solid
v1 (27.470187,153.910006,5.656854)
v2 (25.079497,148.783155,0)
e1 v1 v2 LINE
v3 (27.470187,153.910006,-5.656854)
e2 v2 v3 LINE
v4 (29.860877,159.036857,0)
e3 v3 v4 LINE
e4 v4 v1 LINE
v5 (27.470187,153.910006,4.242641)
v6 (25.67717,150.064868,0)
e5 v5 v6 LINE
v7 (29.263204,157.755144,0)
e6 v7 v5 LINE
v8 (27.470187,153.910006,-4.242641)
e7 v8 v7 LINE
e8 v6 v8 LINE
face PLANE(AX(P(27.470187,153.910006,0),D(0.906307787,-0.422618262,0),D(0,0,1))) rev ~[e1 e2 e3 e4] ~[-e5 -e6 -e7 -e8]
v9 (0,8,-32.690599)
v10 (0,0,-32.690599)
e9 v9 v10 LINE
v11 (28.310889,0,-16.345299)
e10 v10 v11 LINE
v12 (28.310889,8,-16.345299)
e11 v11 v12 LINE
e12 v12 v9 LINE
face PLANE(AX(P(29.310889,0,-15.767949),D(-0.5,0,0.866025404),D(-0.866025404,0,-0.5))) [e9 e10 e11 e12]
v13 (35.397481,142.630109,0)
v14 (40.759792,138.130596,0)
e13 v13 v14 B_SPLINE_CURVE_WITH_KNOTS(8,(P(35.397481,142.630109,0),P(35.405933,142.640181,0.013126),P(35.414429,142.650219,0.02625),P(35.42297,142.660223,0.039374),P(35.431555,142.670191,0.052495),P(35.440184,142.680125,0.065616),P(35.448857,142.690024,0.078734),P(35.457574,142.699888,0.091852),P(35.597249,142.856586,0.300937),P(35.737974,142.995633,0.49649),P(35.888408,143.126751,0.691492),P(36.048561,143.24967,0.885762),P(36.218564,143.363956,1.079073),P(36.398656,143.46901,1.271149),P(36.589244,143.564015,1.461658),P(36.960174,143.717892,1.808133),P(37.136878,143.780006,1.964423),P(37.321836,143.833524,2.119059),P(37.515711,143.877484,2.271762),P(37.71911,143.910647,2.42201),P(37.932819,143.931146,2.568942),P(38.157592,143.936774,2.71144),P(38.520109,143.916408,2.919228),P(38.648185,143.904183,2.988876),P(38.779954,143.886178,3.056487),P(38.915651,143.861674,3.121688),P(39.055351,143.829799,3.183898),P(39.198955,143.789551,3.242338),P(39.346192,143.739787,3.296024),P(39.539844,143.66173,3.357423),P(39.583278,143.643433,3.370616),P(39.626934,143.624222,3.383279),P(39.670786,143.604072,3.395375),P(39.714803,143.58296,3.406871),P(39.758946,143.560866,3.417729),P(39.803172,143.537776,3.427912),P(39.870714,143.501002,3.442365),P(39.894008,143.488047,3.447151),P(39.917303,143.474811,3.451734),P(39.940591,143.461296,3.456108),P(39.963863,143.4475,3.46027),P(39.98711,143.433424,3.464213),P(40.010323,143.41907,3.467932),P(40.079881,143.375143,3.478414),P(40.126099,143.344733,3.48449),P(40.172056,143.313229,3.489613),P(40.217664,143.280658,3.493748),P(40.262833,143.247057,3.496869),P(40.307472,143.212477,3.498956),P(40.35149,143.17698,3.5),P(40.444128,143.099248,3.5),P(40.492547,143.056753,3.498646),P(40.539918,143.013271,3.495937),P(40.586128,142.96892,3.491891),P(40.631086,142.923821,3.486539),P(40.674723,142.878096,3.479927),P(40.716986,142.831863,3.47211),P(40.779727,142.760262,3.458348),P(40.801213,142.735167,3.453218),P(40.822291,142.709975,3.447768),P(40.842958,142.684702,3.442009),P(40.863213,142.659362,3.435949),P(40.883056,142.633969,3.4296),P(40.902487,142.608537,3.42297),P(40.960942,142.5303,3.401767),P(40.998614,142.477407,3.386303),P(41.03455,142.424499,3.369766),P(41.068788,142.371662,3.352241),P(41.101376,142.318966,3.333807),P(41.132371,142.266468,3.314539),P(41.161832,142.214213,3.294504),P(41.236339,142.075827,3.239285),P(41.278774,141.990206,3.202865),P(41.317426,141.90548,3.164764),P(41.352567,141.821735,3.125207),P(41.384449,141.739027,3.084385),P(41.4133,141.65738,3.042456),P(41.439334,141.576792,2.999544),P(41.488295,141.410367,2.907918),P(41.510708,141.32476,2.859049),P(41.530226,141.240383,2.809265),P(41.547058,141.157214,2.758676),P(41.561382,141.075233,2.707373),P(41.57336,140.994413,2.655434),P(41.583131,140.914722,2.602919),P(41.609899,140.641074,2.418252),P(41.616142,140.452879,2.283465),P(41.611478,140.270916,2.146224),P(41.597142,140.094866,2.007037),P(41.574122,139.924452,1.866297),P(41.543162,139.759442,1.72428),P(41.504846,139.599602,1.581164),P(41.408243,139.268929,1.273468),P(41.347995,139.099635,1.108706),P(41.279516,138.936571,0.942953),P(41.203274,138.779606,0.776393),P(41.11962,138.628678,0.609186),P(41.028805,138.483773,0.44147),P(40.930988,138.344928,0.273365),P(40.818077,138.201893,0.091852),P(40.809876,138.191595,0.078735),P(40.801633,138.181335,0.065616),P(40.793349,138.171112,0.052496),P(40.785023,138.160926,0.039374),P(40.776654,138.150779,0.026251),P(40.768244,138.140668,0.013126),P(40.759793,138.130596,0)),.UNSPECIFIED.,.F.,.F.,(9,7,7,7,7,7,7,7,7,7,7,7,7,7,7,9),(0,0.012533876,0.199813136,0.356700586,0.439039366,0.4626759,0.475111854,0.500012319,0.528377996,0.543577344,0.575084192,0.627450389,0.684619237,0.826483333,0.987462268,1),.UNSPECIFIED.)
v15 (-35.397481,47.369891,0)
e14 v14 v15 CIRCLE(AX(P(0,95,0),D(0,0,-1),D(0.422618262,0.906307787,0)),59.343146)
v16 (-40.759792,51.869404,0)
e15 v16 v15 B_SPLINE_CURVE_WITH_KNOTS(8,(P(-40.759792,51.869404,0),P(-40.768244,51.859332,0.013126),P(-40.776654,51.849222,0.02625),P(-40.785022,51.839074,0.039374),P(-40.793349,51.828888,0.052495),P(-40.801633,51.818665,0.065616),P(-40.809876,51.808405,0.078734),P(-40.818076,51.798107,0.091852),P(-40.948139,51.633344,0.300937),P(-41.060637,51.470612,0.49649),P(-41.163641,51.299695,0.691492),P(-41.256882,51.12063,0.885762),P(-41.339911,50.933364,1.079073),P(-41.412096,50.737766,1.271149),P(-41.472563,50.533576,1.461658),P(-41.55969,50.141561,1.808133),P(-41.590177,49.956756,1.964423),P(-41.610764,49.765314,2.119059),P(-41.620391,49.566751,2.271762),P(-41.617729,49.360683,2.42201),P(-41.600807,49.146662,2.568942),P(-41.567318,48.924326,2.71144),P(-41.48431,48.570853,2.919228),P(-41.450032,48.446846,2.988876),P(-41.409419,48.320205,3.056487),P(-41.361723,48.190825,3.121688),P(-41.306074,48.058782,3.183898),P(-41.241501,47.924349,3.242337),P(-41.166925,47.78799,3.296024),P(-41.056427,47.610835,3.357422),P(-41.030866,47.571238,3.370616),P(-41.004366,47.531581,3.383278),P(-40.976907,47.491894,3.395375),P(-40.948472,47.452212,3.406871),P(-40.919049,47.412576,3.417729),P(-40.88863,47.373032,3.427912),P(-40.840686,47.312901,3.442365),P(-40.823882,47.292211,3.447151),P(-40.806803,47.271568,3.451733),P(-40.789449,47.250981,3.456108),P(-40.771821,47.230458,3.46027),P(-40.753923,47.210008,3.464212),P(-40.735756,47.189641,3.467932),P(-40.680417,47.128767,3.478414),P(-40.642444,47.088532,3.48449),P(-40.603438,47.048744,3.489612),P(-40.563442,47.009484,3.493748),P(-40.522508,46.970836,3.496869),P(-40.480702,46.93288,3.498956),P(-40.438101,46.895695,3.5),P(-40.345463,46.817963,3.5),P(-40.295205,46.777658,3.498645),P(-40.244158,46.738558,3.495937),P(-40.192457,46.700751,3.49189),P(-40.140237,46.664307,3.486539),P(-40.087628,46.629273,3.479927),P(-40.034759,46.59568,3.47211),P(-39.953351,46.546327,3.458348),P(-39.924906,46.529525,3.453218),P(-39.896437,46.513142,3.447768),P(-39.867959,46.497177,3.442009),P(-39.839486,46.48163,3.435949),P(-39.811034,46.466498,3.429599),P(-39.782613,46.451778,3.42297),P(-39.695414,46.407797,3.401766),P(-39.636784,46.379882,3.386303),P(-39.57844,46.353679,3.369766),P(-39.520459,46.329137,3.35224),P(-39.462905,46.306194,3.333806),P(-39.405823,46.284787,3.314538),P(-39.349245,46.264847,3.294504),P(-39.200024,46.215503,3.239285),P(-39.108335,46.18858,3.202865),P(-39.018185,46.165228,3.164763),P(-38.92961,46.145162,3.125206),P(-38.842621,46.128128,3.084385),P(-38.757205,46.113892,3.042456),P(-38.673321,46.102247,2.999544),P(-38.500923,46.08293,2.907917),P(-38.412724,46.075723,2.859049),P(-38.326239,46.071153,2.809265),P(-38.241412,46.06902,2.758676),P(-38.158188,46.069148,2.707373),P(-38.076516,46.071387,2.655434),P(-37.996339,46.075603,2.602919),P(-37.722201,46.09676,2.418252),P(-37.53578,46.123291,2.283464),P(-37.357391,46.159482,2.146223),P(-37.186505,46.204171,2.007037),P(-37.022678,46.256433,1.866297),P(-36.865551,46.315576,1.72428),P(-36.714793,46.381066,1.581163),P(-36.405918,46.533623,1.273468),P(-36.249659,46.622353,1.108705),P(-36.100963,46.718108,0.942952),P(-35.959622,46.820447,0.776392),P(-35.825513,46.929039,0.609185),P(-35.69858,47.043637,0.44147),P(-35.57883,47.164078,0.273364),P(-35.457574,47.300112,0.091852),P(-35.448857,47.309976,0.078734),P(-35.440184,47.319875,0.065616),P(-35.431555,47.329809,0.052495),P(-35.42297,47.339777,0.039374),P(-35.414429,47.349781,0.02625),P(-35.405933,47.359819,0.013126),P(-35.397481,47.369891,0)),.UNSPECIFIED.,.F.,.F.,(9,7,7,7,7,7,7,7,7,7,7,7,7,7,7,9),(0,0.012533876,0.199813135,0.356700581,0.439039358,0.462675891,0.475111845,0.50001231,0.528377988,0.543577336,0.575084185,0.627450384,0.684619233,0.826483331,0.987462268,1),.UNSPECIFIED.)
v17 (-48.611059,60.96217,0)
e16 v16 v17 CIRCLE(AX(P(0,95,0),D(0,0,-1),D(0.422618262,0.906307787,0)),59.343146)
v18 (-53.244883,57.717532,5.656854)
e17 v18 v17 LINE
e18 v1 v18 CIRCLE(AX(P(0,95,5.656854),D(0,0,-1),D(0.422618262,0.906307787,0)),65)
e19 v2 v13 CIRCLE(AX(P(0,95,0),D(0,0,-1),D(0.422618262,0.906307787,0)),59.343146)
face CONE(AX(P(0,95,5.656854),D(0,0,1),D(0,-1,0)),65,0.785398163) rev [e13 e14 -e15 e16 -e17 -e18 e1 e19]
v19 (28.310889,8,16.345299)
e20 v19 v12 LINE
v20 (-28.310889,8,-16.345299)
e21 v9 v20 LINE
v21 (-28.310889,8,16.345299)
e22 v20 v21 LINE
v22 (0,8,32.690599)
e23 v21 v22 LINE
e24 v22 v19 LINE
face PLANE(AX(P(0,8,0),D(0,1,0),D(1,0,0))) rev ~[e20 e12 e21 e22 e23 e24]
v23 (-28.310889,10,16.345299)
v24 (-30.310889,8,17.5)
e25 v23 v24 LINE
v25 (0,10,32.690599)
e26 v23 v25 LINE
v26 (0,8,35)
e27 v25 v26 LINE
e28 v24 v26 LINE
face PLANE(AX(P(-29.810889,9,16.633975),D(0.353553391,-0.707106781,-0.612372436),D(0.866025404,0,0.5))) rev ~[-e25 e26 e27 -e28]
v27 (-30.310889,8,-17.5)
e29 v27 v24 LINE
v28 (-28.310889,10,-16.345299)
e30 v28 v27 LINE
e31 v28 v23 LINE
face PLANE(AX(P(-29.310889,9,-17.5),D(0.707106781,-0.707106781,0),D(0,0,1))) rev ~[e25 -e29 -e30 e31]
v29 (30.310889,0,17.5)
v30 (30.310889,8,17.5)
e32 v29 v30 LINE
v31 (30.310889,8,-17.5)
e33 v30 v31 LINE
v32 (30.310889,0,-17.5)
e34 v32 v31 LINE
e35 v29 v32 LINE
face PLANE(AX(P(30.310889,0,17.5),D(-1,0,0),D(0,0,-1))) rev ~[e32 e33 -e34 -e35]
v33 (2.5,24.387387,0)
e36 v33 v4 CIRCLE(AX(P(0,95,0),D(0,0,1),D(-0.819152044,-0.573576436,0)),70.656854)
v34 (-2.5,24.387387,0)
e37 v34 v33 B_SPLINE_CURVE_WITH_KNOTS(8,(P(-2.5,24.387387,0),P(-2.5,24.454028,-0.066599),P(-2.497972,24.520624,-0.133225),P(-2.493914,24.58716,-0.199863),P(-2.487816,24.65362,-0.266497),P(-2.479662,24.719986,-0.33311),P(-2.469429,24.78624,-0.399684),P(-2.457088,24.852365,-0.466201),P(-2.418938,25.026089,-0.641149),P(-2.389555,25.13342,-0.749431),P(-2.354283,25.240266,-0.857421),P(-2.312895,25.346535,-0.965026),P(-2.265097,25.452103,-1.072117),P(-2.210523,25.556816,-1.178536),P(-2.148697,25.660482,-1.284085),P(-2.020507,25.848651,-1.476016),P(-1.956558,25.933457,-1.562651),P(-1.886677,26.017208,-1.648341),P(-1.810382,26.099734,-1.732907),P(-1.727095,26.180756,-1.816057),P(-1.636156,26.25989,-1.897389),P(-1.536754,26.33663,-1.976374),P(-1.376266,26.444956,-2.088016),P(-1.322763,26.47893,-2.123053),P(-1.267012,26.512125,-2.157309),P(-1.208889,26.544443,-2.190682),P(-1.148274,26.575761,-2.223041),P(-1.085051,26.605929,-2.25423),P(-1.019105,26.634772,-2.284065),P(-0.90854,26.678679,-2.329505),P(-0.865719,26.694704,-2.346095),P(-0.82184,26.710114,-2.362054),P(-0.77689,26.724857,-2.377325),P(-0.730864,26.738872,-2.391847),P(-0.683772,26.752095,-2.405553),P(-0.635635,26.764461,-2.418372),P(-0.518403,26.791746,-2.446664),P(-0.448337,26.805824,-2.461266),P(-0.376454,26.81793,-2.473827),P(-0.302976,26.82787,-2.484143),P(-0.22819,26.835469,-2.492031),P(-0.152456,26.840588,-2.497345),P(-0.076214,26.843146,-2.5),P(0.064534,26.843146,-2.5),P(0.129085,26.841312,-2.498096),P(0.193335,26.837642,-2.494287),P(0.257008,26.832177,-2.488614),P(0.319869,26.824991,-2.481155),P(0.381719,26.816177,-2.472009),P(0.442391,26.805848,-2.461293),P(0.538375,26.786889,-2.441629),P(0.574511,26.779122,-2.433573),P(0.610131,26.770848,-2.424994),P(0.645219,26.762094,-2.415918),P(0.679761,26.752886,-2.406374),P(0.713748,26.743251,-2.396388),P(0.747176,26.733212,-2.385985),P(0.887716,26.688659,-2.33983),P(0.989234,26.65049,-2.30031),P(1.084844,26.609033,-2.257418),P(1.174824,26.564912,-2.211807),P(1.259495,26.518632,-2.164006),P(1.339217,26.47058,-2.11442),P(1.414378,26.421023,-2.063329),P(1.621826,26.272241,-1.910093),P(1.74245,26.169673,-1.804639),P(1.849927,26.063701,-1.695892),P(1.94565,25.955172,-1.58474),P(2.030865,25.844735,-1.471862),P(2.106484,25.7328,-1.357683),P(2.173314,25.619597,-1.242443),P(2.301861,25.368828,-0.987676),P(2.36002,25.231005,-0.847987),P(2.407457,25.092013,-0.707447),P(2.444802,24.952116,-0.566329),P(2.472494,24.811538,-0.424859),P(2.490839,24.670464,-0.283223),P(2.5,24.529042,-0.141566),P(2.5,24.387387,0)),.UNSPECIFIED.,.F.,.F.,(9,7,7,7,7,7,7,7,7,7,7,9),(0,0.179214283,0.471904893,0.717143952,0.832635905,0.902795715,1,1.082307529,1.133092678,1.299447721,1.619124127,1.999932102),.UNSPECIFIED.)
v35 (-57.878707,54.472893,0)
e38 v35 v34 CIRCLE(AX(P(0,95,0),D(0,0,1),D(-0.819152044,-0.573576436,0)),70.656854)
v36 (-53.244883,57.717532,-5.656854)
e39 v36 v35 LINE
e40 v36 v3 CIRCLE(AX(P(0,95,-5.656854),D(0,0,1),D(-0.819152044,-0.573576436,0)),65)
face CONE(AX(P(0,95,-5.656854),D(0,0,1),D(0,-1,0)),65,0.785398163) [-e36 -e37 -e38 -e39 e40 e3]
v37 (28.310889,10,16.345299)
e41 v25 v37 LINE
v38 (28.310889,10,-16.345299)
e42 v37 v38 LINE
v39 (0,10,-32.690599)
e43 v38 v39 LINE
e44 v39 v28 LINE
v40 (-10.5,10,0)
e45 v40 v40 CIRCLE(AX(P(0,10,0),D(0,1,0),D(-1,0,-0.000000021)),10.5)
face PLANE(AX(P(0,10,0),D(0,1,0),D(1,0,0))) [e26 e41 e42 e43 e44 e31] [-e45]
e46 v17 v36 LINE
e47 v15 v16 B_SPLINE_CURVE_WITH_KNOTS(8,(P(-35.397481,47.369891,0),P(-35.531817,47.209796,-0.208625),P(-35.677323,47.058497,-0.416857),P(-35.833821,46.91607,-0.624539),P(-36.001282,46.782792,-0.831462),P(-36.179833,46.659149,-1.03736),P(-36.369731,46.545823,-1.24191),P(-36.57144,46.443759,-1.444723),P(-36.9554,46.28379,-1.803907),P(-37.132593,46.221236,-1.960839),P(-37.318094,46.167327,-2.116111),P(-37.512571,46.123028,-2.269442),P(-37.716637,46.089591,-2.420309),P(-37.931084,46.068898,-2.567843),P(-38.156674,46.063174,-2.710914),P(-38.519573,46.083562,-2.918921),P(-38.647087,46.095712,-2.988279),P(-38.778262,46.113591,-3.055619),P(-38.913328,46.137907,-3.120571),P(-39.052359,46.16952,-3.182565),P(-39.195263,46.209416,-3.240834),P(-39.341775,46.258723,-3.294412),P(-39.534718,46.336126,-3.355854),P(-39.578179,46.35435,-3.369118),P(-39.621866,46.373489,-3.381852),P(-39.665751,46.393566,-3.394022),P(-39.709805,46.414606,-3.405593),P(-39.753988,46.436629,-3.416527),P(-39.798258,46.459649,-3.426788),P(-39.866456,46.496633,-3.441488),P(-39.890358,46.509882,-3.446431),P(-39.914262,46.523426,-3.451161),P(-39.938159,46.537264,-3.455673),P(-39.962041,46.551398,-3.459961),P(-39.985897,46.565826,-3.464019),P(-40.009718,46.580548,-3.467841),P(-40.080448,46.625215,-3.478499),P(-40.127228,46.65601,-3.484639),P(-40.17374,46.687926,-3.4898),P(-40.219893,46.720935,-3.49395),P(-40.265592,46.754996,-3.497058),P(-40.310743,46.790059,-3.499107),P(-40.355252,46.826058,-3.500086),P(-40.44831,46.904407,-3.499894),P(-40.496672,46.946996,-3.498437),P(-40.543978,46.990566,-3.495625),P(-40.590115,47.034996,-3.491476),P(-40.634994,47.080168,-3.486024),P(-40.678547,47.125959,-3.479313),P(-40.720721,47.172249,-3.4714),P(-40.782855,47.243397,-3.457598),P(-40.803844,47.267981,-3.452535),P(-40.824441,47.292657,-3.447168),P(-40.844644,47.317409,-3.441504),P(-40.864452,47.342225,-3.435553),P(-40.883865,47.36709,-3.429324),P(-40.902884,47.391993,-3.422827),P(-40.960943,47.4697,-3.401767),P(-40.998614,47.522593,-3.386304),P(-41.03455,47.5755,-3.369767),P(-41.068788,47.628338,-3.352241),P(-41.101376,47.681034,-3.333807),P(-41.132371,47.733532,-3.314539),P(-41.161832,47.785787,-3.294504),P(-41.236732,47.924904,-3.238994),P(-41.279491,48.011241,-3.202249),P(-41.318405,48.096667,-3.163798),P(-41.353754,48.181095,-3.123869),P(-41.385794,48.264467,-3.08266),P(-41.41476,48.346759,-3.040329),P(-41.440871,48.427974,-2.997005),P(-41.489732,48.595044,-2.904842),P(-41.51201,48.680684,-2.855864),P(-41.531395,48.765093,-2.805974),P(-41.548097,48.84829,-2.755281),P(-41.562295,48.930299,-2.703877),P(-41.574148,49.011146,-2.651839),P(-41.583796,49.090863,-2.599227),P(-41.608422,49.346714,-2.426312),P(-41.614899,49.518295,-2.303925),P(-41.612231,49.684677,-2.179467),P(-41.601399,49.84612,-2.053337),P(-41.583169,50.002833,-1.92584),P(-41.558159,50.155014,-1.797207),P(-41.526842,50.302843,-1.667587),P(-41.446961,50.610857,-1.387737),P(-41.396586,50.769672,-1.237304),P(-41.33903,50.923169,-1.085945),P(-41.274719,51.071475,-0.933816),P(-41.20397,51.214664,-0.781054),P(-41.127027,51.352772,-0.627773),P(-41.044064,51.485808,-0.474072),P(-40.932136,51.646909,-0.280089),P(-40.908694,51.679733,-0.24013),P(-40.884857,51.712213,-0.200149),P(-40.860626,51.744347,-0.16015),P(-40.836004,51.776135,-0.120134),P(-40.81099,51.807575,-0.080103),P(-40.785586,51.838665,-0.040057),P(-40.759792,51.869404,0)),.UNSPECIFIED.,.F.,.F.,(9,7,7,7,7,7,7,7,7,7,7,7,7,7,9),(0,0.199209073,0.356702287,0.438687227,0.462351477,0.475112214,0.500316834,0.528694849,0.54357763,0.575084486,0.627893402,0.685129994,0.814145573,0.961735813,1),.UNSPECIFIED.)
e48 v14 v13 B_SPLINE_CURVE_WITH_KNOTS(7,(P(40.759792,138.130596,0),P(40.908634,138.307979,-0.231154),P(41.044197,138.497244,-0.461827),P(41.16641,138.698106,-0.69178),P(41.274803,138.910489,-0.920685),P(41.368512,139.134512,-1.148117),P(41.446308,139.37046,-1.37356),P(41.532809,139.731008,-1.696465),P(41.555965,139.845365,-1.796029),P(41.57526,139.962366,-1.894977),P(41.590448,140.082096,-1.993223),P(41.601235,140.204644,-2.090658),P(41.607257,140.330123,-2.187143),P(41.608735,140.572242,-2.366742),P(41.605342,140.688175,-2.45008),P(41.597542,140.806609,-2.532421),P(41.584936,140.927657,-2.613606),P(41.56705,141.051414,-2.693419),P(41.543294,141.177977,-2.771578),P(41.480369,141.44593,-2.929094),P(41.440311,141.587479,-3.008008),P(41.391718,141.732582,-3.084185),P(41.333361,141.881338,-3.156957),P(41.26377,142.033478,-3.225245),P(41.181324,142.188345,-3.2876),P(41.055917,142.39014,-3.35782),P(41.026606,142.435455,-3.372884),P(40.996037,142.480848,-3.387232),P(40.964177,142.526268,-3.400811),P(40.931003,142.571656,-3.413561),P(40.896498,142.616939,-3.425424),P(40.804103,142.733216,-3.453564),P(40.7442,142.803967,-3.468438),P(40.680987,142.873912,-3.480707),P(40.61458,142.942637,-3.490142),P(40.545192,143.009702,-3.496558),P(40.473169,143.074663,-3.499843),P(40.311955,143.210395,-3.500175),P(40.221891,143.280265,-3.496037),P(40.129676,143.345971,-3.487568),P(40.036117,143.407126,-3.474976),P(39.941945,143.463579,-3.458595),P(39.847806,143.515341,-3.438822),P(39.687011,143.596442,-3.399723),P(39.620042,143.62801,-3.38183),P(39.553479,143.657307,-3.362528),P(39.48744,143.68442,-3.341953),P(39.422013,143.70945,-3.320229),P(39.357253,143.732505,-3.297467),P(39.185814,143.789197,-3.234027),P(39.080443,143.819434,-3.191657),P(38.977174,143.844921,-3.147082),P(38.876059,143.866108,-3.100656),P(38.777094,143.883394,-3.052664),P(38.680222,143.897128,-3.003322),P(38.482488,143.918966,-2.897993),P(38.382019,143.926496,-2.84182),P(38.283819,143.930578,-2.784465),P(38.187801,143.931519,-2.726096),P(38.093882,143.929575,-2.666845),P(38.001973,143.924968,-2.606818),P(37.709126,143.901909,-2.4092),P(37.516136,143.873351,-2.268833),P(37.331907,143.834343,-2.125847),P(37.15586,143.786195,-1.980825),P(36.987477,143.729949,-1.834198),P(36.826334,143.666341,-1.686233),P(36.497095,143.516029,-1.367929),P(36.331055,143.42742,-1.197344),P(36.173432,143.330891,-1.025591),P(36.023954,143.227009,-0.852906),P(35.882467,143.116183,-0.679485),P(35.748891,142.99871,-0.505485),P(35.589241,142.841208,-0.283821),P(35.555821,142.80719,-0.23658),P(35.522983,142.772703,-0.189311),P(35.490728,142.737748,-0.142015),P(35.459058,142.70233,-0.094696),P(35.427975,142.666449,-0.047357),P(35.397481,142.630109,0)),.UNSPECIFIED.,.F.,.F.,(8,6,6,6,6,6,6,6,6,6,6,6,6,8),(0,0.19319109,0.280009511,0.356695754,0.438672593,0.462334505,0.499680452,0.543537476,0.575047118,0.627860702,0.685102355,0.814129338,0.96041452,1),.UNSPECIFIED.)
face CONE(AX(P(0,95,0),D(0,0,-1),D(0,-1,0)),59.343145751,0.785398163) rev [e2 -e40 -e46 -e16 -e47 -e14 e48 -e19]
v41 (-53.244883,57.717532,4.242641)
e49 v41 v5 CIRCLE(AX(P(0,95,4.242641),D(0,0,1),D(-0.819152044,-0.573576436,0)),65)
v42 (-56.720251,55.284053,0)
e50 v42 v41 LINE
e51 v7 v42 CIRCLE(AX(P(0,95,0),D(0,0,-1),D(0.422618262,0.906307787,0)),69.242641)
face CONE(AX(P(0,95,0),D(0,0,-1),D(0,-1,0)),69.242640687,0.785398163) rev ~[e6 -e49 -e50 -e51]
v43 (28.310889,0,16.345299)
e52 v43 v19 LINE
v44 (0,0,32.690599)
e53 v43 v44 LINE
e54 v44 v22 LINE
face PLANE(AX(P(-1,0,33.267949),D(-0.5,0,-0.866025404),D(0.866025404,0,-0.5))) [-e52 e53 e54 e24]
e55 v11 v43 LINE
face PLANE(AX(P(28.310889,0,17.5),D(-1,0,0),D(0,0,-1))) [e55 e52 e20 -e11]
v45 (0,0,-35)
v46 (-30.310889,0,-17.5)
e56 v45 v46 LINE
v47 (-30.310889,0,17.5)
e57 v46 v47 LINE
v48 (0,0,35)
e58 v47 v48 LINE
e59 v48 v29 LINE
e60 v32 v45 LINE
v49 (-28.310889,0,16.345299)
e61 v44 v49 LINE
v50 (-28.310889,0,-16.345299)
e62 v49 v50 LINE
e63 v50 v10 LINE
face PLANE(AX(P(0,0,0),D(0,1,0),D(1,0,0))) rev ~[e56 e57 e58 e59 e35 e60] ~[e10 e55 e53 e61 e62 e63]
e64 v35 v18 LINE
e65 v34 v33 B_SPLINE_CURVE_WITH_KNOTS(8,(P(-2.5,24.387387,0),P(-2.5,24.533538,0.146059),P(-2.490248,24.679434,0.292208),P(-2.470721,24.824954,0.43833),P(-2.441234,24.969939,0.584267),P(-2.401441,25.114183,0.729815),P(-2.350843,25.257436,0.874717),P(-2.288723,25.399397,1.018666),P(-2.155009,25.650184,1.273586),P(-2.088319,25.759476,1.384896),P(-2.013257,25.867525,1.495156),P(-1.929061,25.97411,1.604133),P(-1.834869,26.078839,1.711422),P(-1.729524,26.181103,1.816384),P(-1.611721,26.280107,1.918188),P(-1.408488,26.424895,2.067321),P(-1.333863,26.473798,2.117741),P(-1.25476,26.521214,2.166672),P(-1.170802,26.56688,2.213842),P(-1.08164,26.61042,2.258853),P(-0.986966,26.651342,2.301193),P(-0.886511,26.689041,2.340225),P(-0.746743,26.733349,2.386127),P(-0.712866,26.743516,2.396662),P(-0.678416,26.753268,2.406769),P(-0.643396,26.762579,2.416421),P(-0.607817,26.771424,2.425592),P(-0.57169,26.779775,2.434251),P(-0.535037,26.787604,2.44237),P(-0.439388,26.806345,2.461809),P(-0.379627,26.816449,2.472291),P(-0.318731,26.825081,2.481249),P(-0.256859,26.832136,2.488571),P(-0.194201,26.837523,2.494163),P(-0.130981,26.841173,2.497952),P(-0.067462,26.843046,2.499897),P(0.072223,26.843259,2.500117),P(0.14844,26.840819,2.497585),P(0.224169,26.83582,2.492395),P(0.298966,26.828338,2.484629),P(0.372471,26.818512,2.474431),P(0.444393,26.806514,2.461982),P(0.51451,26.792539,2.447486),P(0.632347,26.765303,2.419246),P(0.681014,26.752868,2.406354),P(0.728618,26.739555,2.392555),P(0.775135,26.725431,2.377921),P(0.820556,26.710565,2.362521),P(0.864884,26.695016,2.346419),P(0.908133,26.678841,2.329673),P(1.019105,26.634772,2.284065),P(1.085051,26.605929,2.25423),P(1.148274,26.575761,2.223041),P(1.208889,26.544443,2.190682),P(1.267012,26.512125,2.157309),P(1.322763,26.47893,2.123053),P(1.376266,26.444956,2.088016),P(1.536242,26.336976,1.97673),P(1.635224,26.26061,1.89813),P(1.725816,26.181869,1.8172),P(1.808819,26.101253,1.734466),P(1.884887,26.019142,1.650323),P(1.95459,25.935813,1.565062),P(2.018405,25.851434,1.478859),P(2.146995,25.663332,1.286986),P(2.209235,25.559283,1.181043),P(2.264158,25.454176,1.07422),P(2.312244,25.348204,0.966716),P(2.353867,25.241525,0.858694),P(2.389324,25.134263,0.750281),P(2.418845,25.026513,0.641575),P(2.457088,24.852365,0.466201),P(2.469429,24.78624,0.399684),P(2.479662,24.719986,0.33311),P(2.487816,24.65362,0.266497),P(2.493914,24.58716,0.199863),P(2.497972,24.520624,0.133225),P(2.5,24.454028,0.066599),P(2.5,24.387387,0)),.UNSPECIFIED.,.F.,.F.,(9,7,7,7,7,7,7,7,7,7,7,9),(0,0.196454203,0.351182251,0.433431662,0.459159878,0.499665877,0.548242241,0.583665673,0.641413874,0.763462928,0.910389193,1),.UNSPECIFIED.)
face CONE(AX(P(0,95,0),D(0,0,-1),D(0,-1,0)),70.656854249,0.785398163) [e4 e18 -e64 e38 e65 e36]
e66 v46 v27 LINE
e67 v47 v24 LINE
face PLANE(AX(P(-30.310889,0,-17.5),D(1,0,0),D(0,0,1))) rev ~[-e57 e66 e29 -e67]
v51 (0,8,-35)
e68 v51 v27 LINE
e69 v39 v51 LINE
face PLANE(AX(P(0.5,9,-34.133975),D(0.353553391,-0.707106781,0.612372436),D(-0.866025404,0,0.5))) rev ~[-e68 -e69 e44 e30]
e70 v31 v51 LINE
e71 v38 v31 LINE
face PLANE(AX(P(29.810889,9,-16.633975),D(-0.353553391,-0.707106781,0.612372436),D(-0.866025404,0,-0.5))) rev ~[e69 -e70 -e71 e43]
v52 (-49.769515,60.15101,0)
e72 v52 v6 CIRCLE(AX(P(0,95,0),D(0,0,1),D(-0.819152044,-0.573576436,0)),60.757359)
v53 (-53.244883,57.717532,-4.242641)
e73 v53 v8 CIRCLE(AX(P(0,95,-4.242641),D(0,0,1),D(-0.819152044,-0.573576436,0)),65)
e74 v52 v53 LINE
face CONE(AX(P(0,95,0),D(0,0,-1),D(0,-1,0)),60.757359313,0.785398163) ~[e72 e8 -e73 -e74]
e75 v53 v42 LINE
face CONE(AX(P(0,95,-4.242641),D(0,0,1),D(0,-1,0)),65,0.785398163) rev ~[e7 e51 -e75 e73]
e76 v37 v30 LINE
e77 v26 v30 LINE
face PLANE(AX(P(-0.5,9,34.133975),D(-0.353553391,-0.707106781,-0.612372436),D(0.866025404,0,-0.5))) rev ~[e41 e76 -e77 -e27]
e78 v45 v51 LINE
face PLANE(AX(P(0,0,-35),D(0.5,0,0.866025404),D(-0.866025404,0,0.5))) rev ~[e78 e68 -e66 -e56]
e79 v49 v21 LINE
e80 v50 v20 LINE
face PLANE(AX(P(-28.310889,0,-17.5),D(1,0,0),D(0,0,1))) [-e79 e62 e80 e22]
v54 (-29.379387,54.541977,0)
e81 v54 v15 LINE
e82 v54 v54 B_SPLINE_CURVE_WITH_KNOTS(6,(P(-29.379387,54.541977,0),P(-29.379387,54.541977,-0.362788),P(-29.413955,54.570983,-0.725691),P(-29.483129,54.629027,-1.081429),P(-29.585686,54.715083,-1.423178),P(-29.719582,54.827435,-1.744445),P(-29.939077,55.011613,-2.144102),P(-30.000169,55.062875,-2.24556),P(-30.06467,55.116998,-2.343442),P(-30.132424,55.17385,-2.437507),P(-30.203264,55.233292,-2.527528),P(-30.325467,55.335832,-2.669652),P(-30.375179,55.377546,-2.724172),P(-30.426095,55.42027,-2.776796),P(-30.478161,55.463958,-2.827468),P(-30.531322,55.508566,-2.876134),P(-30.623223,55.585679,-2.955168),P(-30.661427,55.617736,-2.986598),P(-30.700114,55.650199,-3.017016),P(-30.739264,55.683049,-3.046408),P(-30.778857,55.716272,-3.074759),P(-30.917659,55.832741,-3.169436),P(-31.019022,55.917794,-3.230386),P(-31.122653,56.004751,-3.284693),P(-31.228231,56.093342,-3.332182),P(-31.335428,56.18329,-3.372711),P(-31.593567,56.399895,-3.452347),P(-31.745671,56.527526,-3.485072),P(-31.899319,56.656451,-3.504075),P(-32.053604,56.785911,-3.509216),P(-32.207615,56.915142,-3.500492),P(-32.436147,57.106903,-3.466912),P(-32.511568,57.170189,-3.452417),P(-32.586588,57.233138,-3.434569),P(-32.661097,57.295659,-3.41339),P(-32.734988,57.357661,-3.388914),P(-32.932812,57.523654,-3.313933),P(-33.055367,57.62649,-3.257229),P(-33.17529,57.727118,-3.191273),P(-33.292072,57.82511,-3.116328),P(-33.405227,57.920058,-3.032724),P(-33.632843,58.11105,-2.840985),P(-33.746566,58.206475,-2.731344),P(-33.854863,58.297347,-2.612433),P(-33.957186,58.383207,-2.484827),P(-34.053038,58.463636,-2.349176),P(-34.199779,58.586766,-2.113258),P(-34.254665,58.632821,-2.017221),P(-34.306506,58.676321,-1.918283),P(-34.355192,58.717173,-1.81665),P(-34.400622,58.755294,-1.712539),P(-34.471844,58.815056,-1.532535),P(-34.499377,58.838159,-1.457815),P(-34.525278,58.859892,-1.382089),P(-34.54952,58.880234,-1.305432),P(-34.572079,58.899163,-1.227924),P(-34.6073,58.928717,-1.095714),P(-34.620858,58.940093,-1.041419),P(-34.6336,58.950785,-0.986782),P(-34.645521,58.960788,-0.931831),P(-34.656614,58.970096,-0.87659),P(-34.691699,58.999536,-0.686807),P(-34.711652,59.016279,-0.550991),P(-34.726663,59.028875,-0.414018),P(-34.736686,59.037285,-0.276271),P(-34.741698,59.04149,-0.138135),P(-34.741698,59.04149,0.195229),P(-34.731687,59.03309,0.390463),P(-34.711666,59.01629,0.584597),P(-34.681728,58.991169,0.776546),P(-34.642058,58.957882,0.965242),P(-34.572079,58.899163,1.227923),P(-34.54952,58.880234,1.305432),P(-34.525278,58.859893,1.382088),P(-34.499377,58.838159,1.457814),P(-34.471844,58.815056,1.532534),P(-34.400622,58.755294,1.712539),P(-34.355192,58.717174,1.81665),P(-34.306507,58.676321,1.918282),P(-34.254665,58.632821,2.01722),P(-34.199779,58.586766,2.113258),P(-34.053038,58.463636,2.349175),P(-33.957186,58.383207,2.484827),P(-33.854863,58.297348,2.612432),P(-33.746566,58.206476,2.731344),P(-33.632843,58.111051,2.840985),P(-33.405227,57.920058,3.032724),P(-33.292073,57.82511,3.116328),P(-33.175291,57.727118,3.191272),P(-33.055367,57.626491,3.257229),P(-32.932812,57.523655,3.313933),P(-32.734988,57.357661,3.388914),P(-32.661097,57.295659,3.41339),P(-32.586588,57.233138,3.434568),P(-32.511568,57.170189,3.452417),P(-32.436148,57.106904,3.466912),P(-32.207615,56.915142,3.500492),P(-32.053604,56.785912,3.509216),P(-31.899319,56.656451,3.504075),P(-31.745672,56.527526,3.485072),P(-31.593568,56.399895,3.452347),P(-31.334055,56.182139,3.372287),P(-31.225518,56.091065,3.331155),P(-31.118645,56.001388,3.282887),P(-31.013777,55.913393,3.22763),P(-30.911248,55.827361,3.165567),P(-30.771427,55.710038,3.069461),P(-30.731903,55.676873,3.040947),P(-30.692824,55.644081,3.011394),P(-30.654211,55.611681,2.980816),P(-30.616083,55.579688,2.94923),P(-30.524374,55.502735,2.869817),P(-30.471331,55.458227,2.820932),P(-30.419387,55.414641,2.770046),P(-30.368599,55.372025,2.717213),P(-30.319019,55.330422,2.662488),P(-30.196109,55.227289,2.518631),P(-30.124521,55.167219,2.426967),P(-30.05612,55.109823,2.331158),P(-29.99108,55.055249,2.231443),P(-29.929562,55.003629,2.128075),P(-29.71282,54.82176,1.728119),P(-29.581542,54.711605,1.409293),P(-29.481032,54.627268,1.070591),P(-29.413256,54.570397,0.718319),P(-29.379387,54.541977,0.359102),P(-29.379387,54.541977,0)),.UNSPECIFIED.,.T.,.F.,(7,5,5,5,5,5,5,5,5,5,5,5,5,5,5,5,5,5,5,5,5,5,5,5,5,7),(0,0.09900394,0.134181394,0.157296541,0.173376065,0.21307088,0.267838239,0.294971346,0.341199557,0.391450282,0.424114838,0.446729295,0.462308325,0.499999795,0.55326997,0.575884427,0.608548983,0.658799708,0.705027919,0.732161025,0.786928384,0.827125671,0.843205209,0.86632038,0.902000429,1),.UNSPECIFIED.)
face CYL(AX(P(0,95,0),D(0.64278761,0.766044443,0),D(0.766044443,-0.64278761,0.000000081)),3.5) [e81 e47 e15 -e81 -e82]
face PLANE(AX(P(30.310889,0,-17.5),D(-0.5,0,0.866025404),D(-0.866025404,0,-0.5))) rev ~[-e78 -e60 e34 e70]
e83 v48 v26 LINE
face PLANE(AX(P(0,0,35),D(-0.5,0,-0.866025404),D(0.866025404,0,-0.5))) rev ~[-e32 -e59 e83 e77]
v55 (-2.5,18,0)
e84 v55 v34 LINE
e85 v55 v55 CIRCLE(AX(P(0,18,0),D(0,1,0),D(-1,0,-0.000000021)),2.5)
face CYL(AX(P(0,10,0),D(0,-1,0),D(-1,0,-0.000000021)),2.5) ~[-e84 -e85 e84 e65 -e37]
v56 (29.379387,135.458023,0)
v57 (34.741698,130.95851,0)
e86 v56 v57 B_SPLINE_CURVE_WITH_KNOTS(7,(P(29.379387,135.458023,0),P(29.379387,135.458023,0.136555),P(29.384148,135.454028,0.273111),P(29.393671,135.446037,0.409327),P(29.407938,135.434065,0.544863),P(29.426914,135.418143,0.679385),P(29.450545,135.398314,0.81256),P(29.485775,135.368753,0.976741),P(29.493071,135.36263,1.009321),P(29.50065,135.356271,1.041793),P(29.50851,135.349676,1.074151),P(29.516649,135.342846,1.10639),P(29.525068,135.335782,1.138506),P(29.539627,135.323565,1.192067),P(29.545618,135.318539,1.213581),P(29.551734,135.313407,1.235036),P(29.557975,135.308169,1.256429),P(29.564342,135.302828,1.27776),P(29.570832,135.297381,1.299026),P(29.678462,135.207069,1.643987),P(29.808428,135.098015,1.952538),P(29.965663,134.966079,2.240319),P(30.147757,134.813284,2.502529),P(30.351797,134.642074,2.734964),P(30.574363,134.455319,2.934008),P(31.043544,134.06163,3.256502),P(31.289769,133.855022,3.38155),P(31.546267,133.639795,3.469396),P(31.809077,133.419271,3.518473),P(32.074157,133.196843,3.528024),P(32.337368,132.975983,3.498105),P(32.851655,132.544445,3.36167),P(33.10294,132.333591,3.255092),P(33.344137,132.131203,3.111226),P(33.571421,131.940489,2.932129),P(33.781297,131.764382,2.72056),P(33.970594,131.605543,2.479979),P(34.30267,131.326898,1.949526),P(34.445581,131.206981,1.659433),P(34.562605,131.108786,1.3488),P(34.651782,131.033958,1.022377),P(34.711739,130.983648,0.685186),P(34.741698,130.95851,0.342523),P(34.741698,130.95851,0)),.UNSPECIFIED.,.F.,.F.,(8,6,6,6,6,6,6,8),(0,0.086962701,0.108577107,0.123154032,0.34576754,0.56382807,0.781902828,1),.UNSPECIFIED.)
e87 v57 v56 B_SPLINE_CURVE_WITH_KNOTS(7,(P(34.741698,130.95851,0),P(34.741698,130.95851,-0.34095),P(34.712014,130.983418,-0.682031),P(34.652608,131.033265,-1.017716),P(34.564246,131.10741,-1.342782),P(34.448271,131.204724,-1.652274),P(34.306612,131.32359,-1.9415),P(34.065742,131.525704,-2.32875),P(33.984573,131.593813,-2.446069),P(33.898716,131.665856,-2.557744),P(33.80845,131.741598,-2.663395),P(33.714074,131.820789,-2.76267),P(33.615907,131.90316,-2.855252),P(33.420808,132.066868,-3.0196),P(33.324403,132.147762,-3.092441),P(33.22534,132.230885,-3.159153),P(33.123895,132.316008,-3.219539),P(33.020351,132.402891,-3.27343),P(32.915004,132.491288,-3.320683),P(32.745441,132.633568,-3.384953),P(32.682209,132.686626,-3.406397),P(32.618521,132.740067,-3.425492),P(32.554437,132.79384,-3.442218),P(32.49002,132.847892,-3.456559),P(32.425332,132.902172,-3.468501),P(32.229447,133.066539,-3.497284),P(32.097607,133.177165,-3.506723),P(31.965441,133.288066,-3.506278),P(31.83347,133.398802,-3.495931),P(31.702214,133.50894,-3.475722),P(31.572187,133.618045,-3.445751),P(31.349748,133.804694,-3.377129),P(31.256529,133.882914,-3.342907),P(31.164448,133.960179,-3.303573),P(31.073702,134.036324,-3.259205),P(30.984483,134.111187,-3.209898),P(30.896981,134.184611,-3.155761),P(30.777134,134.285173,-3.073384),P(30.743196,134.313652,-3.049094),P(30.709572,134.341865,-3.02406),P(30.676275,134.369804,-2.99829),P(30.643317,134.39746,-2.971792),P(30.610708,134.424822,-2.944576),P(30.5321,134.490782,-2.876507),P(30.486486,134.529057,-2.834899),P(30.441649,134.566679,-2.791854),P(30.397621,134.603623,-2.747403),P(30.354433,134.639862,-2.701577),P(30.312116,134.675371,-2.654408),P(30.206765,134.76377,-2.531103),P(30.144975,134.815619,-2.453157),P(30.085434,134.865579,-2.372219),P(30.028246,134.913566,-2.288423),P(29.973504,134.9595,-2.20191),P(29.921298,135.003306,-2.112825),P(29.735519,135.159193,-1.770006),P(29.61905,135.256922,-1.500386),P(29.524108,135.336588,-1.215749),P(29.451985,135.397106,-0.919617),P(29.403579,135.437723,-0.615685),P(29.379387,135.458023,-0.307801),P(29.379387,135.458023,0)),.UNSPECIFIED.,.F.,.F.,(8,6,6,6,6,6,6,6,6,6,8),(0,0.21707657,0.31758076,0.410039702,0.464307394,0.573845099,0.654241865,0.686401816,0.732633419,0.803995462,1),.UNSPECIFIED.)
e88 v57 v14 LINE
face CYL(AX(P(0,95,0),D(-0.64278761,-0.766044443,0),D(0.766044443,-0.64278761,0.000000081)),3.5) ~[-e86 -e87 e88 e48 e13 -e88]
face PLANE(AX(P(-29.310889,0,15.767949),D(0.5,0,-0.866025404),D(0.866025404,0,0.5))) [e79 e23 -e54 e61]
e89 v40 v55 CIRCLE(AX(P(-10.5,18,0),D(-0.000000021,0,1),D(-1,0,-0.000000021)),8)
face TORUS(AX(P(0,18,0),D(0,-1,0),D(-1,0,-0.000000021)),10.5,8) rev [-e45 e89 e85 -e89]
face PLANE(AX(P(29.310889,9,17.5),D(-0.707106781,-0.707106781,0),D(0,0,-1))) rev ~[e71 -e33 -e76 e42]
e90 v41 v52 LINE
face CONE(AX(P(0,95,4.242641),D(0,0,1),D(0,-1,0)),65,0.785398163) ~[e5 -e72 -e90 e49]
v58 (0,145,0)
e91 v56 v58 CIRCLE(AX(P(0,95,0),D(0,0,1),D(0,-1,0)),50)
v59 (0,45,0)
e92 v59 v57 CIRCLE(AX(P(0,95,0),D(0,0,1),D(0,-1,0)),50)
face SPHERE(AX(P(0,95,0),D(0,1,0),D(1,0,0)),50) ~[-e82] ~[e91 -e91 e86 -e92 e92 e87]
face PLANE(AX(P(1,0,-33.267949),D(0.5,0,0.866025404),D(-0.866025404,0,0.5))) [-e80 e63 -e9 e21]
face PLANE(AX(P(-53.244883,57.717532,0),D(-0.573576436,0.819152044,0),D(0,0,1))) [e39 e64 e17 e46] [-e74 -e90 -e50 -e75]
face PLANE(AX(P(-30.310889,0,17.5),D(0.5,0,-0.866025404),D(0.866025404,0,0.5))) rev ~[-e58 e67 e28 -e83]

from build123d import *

# Parameters (mm, degrees)
BOSS_EXTRUDE1_DEPTH             = 10
SHELL1_T                        = -2
REVOLVE_THIN1_ANGLE             = 55
REVOLVE_THIN1_OTHER_WAY_ANGLE   = 155
BOSS_EXTRUDE2_REACH             = 157.311
SKETCH5_R                       = 3.5
BOSS_EXTRUDE2_DIRECTION_2_REACH = 157.311
BOSS_EXTRUDE3_REACH             = 174.35
SKETCH6_R                       = 2.5
FILLET1_R                       = 8
CHAMFER1_SIZE                   = 2


with BuildPart() as part:
    # Sketch1 → Boss-Extrude1 (new body)
    with BuildSketch(Plane(origin=(0, 0, 0), x_dir=(1, 0, 0), z_dir=(0, 1, 0))):
        Polygon((0, 35), (-30.310889132, 17.5), (-30.310889132, -17.5), (0, -35), (30.310889132, -17.5), (30.310889132, 17.5), align=None)
    extrude(amount=BOSS_EXTRUDE1_DEPTH)

    # Shell1
    shell1_openings = [part.faces().sort_by_distance(p)[0] for p in [
        (0, 0, 0),
    ]]
    offset(amount=SHELL1_T, openings=shell1_openings, kind=Kind.INTERSECTION)


with BuildPart() as body_2:
    # Sketch2 → Revolve1 (revolve)
    with BuildSketch(Plane.XY):
        with BuildLine():
            Line((0, 145), (0, 45))
            ThreePointArc((0, 45), (50, 95), (0, 145))
        make_face()
    revolve(axis=Axis((0, 145, 0), (0, -1, 0)))


with BuildPart() as body_3:
    # Sketch4 → Revolve-Thin1 (revolve)
    with BuildSketch(Plane(origin=(0, 0, 0), x_dir=(0, 0, -1), z_dir=(1, 0, 0))):
        Polygon((0, 24.343145751), (-5.656854249, 30), (0, 35.656854249), (5.656854249, 30), align=None)
        Polygon((0, 25.757359313), (-4.242640687, 30), (0, 34.242640687), (4.242640687, 30), align=None, mode=Mode.SUBTRACT)
    revolve(axis=Axis((0, 95, 0), (0, 0, -1)), revolution_arc=REVOLVE_THIN1_ANGLE)

    # Sketch4 → Revolve-Thin1 other way (revolve)
    with BuildSketch(Plane(origin=(0, 0, 0), x_dir=(0, 0, -1), z_dir=(1, 0, 0))):
        Polygon((0, 24.343145751), (-5.656854249, 30), (0, 35.656854249), (5.656854249, 30), align=None)
        Polygon((0, 25.757359313), (-4.242640687, 30), (0, 34.242640687), (4.242640687, 30), align=None, mode=Mode.SUBTRACT)
    revolve(axis=Axis((0, 95, 0), (0, 0, 1)), revolution_arc=REVOLVE_THIN1_OTHER_WAY_ANGLE)

    # Sketch5 → Boss-Extrude2 (add, up to next)
    with BuildSketch(Plane(origin=(46.778368268, 55.748288439, 0), x_dir=(0, 0, 1), z_dir=(0.6427876096865406, 0.7660444431189771, 0)), mode=Mode.PRIVATE) as boss_extrude2_sk1:
        with Locations(Location((0, -61.06482292, 0), (0, 0, 89.999995384))):
            Circle(SKETCH5_R)
    boss_extrude2_tool1 = extrude(boss_extrude2_sk1.sketch, amount=BOSS_EXTRUDE2_REACH, mode=Mode.PRIVATE) - body_3.part

    add(body_2.part)  # Boss-Extrude2 merges body 2
    add(boss_extrude2_tool1.solids().sort_by_distance((0, 95, 0))[0])

    # Sketch5 → Boss-Extrude2 direction 2 (add, up to next)
    with BuildSketch(Plane(origin=(46.778368268, 55.748288439, 0), x_dir=(0, 0, 1), z_dir=(0.6427876096865406, 0.7660444431189771, 0)), mode=Mode.PRIVATE) as boss_extrude2_direction_2_sk1:
        with Locations(Location((0, -61.06482292, 0), (0, 0, 89.999995384))):
            Circle(SKETCH5_R)
    boss_extrude2_direction_2_tool1 = extrude(boss_extrude2_direction_2_sk1.sketch, amount=-BOSS_EXTRUDE2_DIRECTION_2_REACH, mode=Mode.PRIVATE) - body_3.part
    add(boss_extrude2_direction_2_tool1.solids().sort_by_distance((0, 95, 0))[0])

    # Sketch6 → Boss-Extrude3 (add, up to next)
    with BuildSketch(Plane(origin=(0, 10, 0), x_dir=(1, 0, 0), z_dir=(0, 1, 0)), mode=Mode.PRIVATE) as boss_extrude3_sk1:
        with Locations(Location((0, 0, 0), (0, 0, 179.999998803))):
            Circle(SKETCH6_R)
    boss_extrude3_tool1 = extrude(boss_extrude3_sk1.sketch, amount=BOSS_EXTRUDE3_REACH, mode=Mode.PRIVATE) - body_3.part

    add(part.part)  # Boss-Extrude3 merges part
    add(boss_extrude3_tool1.solids().sort_by_distance((0, 10, 0))[0])

    # Fillet1
    fillet1_edges = [body_3.edges().sort_by_distance(p)[0] for p in [
        (2.5, 10, 5.2e-08),
    ]]
    fillet(fillet1_edges, radius=FILLET1_R)

    # Chamfer1
    chamfer1_edges = [body_3.edges().sort_by_distance(p)[0] for p in [
        (-30.310889132, 10, 0),
        (-15.155444566, 10, 26.25),
        (15.155444566, 10, 26.25),
        (30.310889132, 10, 0),
        (15.155444566, 10, -26.25),
        (-15.155444566, 10, -26.25),
    ]]
    chamfer(chamfer1_edges, length=CHAMFER1_SIZE)


solid = body_3.part
